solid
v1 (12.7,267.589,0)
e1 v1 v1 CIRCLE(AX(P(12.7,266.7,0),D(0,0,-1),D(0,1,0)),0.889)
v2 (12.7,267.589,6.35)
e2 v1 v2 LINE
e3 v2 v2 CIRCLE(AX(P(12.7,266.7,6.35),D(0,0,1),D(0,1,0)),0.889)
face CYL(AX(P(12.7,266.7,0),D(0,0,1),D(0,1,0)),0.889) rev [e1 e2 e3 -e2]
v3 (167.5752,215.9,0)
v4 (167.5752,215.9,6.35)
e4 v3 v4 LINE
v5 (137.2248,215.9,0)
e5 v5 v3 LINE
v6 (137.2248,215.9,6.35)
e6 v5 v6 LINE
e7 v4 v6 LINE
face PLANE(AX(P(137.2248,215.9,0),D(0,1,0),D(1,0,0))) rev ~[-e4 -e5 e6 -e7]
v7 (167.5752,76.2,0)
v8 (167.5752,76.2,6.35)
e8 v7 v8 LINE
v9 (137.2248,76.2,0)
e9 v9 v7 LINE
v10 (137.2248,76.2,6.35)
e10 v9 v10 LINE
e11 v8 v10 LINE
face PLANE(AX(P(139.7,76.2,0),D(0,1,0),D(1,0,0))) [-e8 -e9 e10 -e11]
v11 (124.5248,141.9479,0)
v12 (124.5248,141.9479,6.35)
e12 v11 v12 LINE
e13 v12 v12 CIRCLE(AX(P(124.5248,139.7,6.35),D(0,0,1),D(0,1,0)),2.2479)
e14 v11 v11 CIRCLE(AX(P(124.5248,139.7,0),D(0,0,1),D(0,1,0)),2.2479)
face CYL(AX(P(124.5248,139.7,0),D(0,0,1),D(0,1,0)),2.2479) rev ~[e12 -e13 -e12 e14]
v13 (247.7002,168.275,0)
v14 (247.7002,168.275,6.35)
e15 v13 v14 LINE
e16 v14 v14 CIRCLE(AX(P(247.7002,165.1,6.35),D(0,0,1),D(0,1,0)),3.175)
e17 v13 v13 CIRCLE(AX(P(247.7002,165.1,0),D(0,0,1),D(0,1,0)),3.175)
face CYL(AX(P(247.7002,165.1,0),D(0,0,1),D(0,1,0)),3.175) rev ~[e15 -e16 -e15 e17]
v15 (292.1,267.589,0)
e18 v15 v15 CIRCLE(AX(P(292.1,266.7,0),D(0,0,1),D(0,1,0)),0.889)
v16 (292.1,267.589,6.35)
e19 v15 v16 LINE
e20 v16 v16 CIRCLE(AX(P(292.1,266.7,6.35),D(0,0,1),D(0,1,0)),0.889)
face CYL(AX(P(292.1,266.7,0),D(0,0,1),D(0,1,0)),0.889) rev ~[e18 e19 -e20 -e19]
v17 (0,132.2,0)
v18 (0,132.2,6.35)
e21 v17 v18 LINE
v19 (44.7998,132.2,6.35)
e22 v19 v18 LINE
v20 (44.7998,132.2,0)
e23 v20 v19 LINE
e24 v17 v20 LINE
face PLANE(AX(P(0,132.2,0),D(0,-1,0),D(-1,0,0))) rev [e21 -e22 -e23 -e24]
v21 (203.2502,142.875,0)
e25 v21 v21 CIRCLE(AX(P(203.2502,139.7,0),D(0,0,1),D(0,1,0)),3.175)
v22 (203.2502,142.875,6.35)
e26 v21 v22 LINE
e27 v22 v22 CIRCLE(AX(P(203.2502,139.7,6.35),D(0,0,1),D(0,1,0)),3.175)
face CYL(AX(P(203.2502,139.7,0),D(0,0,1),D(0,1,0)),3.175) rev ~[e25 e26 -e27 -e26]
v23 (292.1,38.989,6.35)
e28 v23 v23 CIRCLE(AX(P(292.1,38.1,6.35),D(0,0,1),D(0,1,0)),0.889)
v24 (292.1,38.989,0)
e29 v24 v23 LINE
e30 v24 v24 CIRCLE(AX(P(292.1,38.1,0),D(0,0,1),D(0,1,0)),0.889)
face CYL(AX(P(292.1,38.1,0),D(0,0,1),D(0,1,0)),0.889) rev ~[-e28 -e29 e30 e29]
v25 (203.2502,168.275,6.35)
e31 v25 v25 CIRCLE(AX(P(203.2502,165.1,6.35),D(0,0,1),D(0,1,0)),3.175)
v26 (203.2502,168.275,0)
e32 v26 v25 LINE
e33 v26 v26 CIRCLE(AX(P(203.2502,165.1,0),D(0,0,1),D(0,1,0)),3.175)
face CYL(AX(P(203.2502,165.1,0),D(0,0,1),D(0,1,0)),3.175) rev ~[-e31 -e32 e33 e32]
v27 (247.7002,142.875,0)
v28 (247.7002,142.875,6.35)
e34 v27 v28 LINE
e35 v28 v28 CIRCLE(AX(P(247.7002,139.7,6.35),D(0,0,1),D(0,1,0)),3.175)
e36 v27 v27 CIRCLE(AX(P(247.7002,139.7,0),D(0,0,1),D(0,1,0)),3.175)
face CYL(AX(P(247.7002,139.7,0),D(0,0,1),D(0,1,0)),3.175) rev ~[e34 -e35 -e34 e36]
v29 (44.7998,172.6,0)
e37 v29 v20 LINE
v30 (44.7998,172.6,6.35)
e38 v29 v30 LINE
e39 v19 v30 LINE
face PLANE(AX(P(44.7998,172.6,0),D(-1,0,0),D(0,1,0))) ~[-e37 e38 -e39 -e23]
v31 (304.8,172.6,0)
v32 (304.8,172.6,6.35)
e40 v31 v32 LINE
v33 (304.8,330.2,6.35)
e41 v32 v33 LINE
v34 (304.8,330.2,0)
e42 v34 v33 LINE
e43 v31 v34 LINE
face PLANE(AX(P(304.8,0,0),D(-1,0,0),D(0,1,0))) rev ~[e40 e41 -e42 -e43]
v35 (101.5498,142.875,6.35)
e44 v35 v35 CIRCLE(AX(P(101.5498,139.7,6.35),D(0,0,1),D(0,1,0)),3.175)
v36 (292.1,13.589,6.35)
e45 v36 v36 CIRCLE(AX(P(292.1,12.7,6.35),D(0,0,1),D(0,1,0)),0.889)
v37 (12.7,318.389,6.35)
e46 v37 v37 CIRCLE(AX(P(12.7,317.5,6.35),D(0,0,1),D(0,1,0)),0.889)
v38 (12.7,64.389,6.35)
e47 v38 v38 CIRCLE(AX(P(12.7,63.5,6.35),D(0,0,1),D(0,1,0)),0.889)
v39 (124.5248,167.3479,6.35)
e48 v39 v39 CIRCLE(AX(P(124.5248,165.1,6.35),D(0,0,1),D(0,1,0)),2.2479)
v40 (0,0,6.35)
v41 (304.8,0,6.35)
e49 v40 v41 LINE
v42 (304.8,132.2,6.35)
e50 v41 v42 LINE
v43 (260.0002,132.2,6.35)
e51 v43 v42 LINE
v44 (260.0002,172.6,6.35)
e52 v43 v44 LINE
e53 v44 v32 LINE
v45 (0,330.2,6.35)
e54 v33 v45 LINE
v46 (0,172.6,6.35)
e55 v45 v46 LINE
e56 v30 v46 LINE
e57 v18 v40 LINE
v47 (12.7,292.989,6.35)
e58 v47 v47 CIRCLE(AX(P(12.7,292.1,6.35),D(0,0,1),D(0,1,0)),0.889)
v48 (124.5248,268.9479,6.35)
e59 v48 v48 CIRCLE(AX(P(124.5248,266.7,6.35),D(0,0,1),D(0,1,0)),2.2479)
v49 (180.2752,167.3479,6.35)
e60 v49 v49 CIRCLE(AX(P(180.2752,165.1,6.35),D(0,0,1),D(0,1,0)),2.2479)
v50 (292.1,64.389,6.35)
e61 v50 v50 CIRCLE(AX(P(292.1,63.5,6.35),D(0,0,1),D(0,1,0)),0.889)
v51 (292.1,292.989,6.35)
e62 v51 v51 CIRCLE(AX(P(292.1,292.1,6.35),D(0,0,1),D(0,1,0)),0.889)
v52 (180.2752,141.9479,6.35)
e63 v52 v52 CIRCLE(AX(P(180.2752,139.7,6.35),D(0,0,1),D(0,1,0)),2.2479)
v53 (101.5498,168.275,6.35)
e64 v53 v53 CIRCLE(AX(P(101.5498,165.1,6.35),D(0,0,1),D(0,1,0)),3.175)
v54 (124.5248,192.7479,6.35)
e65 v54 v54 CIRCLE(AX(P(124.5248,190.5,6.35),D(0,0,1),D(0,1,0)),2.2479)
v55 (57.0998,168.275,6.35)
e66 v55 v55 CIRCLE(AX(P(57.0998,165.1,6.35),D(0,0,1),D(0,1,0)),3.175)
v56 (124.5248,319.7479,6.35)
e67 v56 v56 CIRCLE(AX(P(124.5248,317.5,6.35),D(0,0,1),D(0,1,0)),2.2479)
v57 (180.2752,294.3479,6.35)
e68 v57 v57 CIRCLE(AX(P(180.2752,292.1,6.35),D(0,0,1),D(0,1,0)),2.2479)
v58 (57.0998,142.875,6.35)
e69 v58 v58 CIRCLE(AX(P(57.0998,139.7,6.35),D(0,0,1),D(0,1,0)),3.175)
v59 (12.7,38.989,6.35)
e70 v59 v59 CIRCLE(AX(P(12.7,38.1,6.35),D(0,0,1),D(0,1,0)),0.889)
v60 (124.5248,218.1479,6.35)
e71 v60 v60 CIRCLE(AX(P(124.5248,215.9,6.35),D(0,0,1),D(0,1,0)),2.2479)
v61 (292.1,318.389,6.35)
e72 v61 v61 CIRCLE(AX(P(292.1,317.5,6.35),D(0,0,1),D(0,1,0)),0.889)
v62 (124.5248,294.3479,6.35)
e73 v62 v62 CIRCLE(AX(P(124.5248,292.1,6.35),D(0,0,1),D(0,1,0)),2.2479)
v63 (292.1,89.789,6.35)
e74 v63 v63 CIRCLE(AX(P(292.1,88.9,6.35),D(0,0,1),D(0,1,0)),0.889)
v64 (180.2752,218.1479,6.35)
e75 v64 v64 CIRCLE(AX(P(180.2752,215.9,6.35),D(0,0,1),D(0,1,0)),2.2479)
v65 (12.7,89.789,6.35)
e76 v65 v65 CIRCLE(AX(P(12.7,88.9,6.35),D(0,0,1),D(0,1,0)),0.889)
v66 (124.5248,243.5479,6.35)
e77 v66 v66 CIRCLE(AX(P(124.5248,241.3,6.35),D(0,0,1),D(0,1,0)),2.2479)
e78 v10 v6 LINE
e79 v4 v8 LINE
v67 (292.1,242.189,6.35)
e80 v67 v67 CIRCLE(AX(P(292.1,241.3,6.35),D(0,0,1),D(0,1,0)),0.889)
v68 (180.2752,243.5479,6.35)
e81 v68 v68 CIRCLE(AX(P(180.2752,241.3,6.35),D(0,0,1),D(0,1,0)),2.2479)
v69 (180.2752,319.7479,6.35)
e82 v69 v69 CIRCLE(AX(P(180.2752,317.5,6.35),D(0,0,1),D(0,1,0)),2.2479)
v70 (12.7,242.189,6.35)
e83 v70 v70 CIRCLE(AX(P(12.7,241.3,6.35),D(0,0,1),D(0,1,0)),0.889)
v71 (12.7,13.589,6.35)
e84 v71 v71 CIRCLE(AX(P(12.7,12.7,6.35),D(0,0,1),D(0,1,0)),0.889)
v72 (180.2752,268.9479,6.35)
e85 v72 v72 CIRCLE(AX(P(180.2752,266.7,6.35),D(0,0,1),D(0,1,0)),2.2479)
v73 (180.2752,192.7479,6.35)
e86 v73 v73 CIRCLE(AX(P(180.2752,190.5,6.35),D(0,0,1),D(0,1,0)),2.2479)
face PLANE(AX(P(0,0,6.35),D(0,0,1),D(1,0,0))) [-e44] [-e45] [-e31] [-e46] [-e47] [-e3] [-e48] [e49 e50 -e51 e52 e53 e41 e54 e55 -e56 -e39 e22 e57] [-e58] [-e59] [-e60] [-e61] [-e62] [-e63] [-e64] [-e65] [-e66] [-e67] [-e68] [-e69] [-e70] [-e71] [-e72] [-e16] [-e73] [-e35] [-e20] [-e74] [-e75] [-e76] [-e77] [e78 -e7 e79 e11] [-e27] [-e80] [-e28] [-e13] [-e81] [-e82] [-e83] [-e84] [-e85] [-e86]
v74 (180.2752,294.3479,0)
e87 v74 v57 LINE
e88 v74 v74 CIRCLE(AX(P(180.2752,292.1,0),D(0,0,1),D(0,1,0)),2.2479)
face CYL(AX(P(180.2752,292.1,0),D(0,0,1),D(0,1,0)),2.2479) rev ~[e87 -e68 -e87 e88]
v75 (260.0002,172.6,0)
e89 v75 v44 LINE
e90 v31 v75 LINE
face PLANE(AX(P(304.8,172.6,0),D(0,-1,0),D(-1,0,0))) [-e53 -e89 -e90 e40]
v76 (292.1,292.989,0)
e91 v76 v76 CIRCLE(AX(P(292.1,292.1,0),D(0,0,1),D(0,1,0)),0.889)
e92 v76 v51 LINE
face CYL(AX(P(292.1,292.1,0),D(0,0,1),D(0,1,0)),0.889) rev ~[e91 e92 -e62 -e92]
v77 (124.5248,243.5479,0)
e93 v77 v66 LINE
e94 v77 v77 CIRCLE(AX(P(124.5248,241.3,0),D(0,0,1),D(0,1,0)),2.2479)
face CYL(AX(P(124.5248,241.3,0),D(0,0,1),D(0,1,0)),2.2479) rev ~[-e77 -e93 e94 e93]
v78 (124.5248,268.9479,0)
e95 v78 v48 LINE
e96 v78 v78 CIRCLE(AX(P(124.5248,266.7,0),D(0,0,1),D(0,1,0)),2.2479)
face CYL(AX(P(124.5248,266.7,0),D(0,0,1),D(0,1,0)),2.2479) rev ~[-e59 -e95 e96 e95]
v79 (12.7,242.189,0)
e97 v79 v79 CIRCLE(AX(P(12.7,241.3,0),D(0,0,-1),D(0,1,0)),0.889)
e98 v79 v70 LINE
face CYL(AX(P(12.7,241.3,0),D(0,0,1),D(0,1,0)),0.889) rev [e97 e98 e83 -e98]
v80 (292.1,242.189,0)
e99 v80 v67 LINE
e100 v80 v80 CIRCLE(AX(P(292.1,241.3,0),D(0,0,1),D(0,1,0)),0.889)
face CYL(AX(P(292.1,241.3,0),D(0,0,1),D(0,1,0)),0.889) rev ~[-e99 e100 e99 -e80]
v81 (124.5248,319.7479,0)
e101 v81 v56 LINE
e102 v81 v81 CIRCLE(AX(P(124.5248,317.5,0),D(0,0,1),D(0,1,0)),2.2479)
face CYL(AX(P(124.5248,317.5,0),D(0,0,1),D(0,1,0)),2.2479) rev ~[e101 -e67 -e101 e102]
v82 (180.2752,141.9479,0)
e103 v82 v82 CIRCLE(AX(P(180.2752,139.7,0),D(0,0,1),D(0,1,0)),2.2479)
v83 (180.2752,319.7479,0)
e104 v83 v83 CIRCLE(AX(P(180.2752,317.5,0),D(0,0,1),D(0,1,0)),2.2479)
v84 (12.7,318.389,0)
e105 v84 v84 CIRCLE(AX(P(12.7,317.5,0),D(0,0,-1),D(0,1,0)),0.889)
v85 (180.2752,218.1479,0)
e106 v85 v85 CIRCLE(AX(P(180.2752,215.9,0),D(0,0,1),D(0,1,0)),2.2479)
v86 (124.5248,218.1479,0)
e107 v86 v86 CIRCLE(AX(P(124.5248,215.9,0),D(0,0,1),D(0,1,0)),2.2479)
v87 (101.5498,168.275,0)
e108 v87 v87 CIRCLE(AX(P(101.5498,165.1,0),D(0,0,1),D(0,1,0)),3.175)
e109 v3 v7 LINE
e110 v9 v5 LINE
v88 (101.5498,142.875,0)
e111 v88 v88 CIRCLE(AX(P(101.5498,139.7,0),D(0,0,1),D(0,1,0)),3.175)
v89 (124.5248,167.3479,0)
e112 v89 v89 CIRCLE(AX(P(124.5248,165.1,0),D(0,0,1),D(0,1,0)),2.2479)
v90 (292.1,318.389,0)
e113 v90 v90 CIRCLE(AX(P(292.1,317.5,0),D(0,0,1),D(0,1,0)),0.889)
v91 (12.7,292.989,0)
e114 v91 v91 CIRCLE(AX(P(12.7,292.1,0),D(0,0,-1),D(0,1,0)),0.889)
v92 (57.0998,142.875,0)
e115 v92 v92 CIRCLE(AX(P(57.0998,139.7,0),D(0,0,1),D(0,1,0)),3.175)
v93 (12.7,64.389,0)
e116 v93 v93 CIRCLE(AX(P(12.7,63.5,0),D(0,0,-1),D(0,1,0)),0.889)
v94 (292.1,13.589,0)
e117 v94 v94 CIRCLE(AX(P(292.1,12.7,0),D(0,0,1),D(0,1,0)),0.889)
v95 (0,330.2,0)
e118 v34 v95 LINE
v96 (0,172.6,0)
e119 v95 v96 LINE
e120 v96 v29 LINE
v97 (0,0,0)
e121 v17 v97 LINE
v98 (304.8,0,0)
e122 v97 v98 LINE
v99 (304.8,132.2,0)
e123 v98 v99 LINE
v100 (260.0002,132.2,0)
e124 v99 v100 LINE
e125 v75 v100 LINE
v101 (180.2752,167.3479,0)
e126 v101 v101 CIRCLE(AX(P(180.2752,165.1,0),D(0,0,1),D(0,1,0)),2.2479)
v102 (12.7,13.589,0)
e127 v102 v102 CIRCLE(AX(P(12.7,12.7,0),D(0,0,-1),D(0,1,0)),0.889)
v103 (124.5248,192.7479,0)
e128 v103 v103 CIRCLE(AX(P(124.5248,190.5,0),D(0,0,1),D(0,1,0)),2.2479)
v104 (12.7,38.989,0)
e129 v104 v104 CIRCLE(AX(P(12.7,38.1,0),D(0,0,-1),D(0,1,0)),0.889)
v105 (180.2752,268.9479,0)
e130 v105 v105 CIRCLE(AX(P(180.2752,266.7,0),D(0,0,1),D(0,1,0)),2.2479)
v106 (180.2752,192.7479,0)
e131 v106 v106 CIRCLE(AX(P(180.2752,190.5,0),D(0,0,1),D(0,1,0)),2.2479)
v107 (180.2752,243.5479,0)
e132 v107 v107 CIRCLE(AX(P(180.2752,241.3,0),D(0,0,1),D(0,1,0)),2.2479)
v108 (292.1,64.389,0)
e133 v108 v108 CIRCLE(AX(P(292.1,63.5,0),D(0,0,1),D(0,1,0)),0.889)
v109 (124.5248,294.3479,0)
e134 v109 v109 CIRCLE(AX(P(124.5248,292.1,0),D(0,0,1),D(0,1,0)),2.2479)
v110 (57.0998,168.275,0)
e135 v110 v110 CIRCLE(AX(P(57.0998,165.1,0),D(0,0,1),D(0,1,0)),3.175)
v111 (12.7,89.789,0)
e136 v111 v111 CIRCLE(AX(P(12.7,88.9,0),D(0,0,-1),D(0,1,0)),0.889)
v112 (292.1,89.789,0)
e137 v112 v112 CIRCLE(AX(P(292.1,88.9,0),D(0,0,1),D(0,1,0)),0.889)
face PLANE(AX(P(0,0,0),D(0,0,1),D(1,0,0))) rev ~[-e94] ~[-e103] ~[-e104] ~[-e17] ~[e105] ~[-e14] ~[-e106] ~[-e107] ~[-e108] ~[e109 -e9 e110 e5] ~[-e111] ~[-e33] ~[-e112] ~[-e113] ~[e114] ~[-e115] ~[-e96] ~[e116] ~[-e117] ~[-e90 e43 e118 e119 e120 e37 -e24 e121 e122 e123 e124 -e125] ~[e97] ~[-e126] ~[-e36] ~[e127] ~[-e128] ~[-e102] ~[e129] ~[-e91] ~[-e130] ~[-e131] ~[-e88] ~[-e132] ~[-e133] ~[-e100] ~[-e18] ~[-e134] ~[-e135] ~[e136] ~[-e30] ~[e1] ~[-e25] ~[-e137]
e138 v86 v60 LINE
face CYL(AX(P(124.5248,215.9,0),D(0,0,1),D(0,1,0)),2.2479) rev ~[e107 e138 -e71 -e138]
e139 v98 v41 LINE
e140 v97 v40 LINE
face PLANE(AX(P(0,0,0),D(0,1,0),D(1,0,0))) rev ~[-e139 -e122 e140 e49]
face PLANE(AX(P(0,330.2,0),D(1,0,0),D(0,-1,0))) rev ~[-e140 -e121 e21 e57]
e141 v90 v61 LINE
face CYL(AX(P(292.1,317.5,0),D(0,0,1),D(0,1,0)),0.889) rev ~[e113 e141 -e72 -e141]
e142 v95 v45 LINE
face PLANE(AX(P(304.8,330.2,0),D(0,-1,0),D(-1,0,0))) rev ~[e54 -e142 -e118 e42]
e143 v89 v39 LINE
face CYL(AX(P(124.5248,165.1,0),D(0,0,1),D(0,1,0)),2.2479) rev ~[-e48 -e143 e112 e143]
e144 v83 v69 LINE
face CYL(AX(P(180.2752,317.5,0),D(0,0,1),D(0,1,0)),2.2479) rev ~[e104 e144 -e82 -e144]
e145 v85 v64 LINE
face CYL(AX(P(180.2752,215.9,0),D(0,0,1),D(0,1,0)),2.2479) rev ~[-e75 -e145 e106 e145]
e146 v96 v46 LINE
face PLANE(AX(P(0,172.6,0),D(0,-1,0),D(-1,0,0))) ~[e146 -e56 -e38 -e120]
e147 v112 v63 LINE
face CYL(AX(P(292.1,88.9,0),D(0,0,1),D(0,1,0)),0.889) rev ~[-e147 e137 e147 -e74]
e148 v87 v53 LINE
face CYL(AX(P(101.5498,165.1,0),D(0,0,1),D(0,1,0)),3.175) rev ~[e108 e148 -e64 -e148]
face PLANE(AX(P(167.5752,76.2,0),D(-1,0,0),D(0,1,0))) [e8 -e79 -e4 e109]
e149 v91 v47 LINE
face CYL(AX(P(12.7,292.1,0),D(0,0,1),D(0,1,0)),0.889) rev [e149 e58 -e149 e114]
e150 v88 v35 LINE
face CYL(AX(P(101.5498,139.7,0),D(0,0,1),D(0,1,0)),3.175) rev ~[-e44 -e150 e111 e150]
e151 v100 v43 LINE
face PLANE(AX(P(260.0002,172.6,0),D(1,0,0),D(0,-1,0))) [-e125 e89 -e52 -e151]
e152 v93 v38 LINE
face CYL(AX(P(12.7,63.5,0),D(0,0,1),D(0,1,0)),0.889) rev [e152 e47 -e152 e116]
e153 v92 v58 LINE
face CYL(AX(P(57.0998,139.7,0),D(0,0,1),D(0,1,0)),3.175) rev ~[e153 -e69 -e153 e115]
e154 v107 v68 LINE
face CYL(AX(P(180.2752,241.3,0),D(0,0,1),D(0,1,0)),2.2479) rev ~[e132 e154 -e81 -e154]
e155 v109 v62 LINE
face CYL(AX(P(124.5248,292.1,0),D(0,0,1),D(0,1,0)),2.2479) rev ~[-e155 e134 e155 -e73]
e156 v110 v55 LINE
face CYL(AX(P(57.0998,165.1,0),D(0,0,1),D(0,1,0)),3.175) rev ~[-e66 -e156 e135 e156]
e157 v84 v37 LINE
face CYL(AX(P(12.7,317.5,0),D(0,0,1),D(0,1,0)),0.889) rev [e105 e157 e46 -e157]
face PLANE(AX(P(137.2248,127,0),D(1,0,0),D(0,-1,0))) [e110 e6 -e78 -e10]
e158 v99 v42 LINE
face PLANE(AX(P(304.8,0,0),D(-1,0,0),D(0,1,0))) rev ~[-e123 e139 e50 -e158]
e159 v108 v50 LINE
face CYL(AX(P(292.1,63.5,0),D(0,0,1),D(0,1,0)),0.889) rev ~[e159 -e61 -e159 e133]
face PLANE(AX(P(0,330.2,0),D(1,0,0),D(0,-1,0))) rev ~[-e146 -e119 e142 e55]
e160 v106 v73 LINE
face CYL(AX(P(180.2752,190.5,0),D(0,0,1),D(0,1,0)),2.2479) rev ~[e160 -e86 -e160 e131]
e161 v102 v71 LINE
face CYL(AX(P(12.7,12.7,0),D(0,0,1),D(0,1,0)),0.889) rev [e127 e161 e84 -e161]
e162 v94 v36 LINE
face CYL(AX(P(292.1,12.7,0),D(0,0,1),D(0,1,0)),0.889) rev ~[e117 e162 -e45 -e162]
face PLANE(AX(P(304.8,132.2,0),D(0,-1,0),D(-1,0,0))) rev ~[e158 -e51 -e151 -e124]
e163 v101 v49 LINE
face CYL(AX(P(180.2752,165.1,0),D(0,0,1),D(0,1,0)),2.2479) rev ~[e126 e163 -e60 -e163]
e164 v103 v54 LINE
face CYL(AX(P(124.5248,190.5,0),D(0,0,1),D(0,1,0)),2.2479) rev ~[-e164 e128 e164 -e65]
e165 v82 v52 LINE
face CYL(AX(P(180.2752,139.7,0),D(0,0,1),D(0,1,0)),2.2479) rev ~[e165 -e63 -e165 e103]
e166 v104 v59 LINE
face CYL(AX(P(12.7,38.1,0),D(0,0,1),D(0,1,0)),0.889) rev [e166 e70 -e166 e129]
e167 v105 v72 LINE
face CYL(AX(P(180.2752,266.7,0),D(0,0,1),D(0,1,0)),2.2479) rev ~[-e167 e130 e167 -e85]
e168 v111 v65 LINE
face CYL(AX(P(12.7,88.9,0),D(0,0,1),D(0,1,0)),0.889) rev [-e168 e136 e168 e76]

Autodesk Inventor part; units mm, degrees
ref_plane "YZ Plane" through (0, 0, 0) normal (1, 0, 0) x (0, 1, 0)
ref_plane "XZ Plane" through (0, 0, 0) normal (0, 1, 0) x (-1, 0, 0)
ref_plane "XY Plane" through (0, 0, 0) normal (0, 0, 1) x (1, 0, 0)
sketch "Sketch1" plane through (0, 0, 0) normal (0, 0, 1) x (1, 0, 0)
  line L0 (0, 0) -> (304.8, 0)
  line L1 (304.8, 0) -> (304.8, 330.2)
  line L2 (304.8, 330.2) -> (0, 330.2)
  line L3 (0, 330.2) -> (0, 0)
  dimension "d0" = 304.8
  dimension "d1" = 330.2
extrude "Extrusion1" add sketch "Sketch1" along normal blind 6.35
sketch "Sketch2" plane through (0, 0, 0) normal (0, 0, -1) x (-1, 0, 0)
  line L0 (-323.0002, 172.6) -> (-260.0002, 172.6)
  line L1 (-323.0002, 132.2) -> (-260.0002, 132.2)
  line L2 (-246.7514, 152.4) -> (-364.8335, 152.4)
  line L3 (-304.8, 0) -> (-304.8, 330.2) projected
  line L4 (-304.8, 172.6) -> (-260.0002, 172.6)
  line L5 (-260.0002, 172.6) -> (-260.0002, 132.2)
  line L6 (-260.0002, 132.2) -> (-304.8, 132.2)
  line L7 (-304.8, 132.2) -> (-304.8, 172.6)
  point P0 (0, 0)
  dimension "d4" = 20.2
  dimension "d5" = 20.2
extrude "Extrusion2" cut sketch "Sketch2" against normal blind 25.4
ref_plane "Work Plane1" through (152.4, 330.2, 6.35) normal (1, 0, 0) x (0, 0, -1)
mirror "Mirror1" about plane through (152.4, 330.2, 6.35) normal (1, 0, 0) of "Extrusion2"
sketch "Sketch3" plane through (0, 0, 0) normal (0, 0, -1) x (-1, 0, 0)
  circle A0 centre (-203.2502, 165.1) radius 2.0193 projected
  circle A1 centre (-247.7002, 165.1) radius 2.0193 projected
  circle A2 centre (-247.7002, 139.7) radius 2.0193 projected
  circle A3 centre (-203.2502, 139.7) radius 2.0193 projected
  circle A4 centre (-101.5498, 165.1) radius 2.0193 projected
  circle A5 centre (-101.5498, 139.7) radius 2.0193 projected
  circle A6 centre (-57.0998, 165.1) radius 2.0193 projected
  circle A7 centre (-57.0998, 139.7) radius 2.0193 projected
  point P0 (0, 0)
hole "Hole1" at (247.7002, 165.1, 0) at (203.2502, 165.1, 0) at (203.2502, 139.7, 0) at (247.7002, 139.7, 0) at (101.5498, 165.1, 0) at (101.5498, 139.7, 0) at (57.0998, 139.7, 0) at (57.0998, 165.1, 0) direction (0, 0, 1) diameter 6.35 depth 25.4 tip angle 118
sketch "Sketch4" plane through (0, 0, 0) normal (0, 0, -1) x (-1, 0, 0)
  circle A0 centre (-292.1, 317.5) radius 1.27 projected
  circle A1 centre (-292.1, 266.7) radius 1.27 projected
  circle A2 centre (-292.1, 241.3) radius 1.27 projected
  circle A3 centre (-292.1, 292.1) radius 1.27 projected
  line L0 (-302.26, 228.6) -> (-281.94, 228.6) projected
  line L1 (-281.94, 228.6) -> (-281.94, 330.2) projected
  line L2 (-302.26, 330.2) -> (-281.94, 330.2) projected
  line L3 (-302.26, 228.6) -> (-302.26, 330.2) projected
  line L4 (-281.94, 101.6) -> (-302.26, 101.6) projected
  line L5 (-302.26, 0) -> (-302.26, 101.6) projected
  line L6 (-281.94, 0) -> (-302.26, 0) projected
  line L7 (-281.94, 0) -> (-281.94, 101.6) projected
  circle A4 centre (-292.1, 63.5) radius 1.27 projected
  circle A5 centre (-292.1, 12.7) radius 1.27 projected
  circle A6 centre (-292.1, 38.1) radius 1.27 projected
  circle A7 centre (-292.1, 88.9) radius 1.27 projected
  point P0 (0, 0)
hole "Hole2" at (292.1, 317.5, 0) at (292.1, 292.1, 0) at (292.1, 266.7, 0) at (292.1, 241.3, 0) at (292.1, 88.9, 0) at (292.1, 63.5, 0) at (292.1, 38.1, 0) at (292.1, 12.7, 0) direction (0, 0, 1) diameter 1.778 depth 19.05 tip angle 118 clearance for "Flat Head Machine Screw (82)" size "#0" standard "Ansi Unified Screw Threads"
mirror "Mirror2" about plane through (152.4, 330.2, 6.35) normal (1, 0, 0) of "Hole2"
sketch "Sketch5" plane through (0, 0, 0) normal (0, 0, -1) x (-1, 0, 0)
  circle A0 centre (-124.5248, 165.1) radius 1.27 projected
  circle A1 centre (-124.5248, 215.9) radius 1.27 projected
  circle A2 centre (-124.5248, 266.7) radius 1.27 projected
  circle A3 centre (-124.5248, 317.5) radius 1.27 projected
  circle A4 centre (-124.5248, 292.1) radius 1.27 projected
  circle A5 centre (-124.5248, 241.3) radius 1.27 projected
  circle A6 centre (-124.5248, 190.5) radius 1.27 projected
  circle A7 centre (-124.5248, 139.7) radius 1.27 projected
  line L0 (-114.3648, 330.2) -> (-134.6848, 330.2) projected
  line L1 (-114.3648, 330.2) -> (-114.3648, 127) projected
  line L2 (-134.6848, 127) -> (-114.3648, 127) projected
  line L3 (-134.6848, 330.2) -> (-134.6848, 127) projected
  circle A8 centre (-180.2752, 165.1) radius 1.27 projected
  circle A9 centre (-180.2752, 215.9) radius 1.27 projected
  circle A10 centre (-180.2752, 266.7) radius 1.27 projected
  circle A11 centre (-180.2752, 317.5) radius 1.27 projected
  circle A12 centre (-180.2752, 292.1) radius 1.27 projected
  circle A13 centre (-180.2752, 241.3) radius 1.27 projected
  circle A14 centre (-180.2752, 190.5) radius 1.27 projected
  circle A15 centre (-180.2752, 139.7) radius 1.27 projected
  line L4 (-170.1152, 330.2) -> (-190.4352, 330.2) projected
  line L5 (-170.1152, 330.2) -> (-170.1152, 127) projected
  line L6 (-190.4352, 127) -> (-170.1152, 127) projected
  line L7 (-190.4352, 330.2) -> (-190.4352, 127) projected
  point P0 (0, 0)
hole "Hole3" at (180.2752, 139.7, 0) at (124.5248, 139.7, 0) at (124.5248, 165.1, 0) at (180.2752, 165.1, 0) at (180.2752, 190.5, 0) at (124.5248, 190.5, 0) at (124.5248, 215.9, 0) at (180.2752, 215.9, 0) at (124.5248, 241.3, 0) at (180.2752, 241.3, 0) at (180.2752, 266.7, 0) at (124.5248, 266.7, 0) at (124.5248, 292.1, 0) at (180.2752, 292.1, 0) at (124.5248, 317.5, 0) at (180.2752, 317.5, 0) direction (0, 0, 1) diameter 4.4958 depth 19.05 tip angle 118 clearance for "Flat Head Machine Screw (82)" size "#8" standard "Ansi Unified Screw Threads"
sketch "Sketch6" plane through (0, 0, 0) normal (0, 0, -1) x (-1, 0, 0)
  line L0 (-165.1, 175.9057) -> (-165.1, -141.7236) projected
  line L1 (-137.2248, 330.2) -> (-137.2248, 127) projected
  line L2 (-167.5752, 330.2) -> (-167.5752, 127) projected
  line L3 (-139.7, 175.9057) -> (-139.7, -141.7236) projected
  line L4 (-167.5752, 330.2) -> (-167.5752, 127) projected
  line L5 (-167.5752, 127) -> (-137.2248, 127)
  line L6 (-137.2248, 127) -> (-137.2248, 215.9)
  line L7 (-137.2248, 215.9) -> (-167.5752, 215.9)
  line L8 (-167.5752, 215.9) -> (-167.5752, 127)
  line L9 (-167.5752, 127) -> (-137.2248, 127)
  line L10 (-137.2248, 127) -> (-137.2248, 76.2)
  line L11 (-137.2248, 76.2) -> (-167.5752, 76.2)
  line L12 (-167.5752, 76.2) -> (-167.5752, 127)
  point P0 (0, 0)
  dimension "d29" = 88.9
  dimension "d31" = 50.8
extrude "Extrusion3" cut sketch "Sketch6" against normal blind 25.4
sketch "Sketch8" plane through (0, 0, 0) normal (0, 0, -1) x (-1, 0, 0)
  circle A0 centre (-1186.1371, 107.95) radius 1.27 projected
  circle A1 centre (-1211.5371, 107.95) radius 1.27 projected
  circle A2 centre (-1236.9371, 107.95) radius 1.27 projected
  circle A3 centre (-1262.3371, 107.95) radius 1.27 projected
  circle A4 centre (-1287.7371, 107.95) radius 1.27 projected
  circle A5 centre (-1313.1371, 107.95) radius 1.27 projected
  circle A6 centre (-1338.5371, 107.95) radius 1.27 projected
  circle A7 centre (-1363.9371, 107.95) radius 1.27 projected
  circle A8 centre (-1389.3371, 107.95) radius 1.27 projected
  circle A9 centre (-1414.7371, 107.95) radius 1.27 projected
  point P0 (0, 0)
hole "Hole4" at (1186.1371, 107.95, 0) at (1211.5371, 107.95, 0) at (1236.9371, 107.95, 0) at (1262.3371, 107.95, 0) at (1287.7371, 107.95, 0) at (1313.1371, 107.95, 0) at (1338.5371, 107.95, 0) at (1363.9371, 107.95, 0) at (1389.3371, 107.95, 0) at (1414.7371, 107.95, 0) direction (0, 0, 1) diameter 4.4958 depth 19.05 tip angle 118 clearance for "Flat Head Machine Screw (82)" size "#8" standard "Ansi Unified Screw Threads"
equation "\"d4\" = d5"
properties part number "Piv Pannel 2" material "Polycarbonate, Clear"
